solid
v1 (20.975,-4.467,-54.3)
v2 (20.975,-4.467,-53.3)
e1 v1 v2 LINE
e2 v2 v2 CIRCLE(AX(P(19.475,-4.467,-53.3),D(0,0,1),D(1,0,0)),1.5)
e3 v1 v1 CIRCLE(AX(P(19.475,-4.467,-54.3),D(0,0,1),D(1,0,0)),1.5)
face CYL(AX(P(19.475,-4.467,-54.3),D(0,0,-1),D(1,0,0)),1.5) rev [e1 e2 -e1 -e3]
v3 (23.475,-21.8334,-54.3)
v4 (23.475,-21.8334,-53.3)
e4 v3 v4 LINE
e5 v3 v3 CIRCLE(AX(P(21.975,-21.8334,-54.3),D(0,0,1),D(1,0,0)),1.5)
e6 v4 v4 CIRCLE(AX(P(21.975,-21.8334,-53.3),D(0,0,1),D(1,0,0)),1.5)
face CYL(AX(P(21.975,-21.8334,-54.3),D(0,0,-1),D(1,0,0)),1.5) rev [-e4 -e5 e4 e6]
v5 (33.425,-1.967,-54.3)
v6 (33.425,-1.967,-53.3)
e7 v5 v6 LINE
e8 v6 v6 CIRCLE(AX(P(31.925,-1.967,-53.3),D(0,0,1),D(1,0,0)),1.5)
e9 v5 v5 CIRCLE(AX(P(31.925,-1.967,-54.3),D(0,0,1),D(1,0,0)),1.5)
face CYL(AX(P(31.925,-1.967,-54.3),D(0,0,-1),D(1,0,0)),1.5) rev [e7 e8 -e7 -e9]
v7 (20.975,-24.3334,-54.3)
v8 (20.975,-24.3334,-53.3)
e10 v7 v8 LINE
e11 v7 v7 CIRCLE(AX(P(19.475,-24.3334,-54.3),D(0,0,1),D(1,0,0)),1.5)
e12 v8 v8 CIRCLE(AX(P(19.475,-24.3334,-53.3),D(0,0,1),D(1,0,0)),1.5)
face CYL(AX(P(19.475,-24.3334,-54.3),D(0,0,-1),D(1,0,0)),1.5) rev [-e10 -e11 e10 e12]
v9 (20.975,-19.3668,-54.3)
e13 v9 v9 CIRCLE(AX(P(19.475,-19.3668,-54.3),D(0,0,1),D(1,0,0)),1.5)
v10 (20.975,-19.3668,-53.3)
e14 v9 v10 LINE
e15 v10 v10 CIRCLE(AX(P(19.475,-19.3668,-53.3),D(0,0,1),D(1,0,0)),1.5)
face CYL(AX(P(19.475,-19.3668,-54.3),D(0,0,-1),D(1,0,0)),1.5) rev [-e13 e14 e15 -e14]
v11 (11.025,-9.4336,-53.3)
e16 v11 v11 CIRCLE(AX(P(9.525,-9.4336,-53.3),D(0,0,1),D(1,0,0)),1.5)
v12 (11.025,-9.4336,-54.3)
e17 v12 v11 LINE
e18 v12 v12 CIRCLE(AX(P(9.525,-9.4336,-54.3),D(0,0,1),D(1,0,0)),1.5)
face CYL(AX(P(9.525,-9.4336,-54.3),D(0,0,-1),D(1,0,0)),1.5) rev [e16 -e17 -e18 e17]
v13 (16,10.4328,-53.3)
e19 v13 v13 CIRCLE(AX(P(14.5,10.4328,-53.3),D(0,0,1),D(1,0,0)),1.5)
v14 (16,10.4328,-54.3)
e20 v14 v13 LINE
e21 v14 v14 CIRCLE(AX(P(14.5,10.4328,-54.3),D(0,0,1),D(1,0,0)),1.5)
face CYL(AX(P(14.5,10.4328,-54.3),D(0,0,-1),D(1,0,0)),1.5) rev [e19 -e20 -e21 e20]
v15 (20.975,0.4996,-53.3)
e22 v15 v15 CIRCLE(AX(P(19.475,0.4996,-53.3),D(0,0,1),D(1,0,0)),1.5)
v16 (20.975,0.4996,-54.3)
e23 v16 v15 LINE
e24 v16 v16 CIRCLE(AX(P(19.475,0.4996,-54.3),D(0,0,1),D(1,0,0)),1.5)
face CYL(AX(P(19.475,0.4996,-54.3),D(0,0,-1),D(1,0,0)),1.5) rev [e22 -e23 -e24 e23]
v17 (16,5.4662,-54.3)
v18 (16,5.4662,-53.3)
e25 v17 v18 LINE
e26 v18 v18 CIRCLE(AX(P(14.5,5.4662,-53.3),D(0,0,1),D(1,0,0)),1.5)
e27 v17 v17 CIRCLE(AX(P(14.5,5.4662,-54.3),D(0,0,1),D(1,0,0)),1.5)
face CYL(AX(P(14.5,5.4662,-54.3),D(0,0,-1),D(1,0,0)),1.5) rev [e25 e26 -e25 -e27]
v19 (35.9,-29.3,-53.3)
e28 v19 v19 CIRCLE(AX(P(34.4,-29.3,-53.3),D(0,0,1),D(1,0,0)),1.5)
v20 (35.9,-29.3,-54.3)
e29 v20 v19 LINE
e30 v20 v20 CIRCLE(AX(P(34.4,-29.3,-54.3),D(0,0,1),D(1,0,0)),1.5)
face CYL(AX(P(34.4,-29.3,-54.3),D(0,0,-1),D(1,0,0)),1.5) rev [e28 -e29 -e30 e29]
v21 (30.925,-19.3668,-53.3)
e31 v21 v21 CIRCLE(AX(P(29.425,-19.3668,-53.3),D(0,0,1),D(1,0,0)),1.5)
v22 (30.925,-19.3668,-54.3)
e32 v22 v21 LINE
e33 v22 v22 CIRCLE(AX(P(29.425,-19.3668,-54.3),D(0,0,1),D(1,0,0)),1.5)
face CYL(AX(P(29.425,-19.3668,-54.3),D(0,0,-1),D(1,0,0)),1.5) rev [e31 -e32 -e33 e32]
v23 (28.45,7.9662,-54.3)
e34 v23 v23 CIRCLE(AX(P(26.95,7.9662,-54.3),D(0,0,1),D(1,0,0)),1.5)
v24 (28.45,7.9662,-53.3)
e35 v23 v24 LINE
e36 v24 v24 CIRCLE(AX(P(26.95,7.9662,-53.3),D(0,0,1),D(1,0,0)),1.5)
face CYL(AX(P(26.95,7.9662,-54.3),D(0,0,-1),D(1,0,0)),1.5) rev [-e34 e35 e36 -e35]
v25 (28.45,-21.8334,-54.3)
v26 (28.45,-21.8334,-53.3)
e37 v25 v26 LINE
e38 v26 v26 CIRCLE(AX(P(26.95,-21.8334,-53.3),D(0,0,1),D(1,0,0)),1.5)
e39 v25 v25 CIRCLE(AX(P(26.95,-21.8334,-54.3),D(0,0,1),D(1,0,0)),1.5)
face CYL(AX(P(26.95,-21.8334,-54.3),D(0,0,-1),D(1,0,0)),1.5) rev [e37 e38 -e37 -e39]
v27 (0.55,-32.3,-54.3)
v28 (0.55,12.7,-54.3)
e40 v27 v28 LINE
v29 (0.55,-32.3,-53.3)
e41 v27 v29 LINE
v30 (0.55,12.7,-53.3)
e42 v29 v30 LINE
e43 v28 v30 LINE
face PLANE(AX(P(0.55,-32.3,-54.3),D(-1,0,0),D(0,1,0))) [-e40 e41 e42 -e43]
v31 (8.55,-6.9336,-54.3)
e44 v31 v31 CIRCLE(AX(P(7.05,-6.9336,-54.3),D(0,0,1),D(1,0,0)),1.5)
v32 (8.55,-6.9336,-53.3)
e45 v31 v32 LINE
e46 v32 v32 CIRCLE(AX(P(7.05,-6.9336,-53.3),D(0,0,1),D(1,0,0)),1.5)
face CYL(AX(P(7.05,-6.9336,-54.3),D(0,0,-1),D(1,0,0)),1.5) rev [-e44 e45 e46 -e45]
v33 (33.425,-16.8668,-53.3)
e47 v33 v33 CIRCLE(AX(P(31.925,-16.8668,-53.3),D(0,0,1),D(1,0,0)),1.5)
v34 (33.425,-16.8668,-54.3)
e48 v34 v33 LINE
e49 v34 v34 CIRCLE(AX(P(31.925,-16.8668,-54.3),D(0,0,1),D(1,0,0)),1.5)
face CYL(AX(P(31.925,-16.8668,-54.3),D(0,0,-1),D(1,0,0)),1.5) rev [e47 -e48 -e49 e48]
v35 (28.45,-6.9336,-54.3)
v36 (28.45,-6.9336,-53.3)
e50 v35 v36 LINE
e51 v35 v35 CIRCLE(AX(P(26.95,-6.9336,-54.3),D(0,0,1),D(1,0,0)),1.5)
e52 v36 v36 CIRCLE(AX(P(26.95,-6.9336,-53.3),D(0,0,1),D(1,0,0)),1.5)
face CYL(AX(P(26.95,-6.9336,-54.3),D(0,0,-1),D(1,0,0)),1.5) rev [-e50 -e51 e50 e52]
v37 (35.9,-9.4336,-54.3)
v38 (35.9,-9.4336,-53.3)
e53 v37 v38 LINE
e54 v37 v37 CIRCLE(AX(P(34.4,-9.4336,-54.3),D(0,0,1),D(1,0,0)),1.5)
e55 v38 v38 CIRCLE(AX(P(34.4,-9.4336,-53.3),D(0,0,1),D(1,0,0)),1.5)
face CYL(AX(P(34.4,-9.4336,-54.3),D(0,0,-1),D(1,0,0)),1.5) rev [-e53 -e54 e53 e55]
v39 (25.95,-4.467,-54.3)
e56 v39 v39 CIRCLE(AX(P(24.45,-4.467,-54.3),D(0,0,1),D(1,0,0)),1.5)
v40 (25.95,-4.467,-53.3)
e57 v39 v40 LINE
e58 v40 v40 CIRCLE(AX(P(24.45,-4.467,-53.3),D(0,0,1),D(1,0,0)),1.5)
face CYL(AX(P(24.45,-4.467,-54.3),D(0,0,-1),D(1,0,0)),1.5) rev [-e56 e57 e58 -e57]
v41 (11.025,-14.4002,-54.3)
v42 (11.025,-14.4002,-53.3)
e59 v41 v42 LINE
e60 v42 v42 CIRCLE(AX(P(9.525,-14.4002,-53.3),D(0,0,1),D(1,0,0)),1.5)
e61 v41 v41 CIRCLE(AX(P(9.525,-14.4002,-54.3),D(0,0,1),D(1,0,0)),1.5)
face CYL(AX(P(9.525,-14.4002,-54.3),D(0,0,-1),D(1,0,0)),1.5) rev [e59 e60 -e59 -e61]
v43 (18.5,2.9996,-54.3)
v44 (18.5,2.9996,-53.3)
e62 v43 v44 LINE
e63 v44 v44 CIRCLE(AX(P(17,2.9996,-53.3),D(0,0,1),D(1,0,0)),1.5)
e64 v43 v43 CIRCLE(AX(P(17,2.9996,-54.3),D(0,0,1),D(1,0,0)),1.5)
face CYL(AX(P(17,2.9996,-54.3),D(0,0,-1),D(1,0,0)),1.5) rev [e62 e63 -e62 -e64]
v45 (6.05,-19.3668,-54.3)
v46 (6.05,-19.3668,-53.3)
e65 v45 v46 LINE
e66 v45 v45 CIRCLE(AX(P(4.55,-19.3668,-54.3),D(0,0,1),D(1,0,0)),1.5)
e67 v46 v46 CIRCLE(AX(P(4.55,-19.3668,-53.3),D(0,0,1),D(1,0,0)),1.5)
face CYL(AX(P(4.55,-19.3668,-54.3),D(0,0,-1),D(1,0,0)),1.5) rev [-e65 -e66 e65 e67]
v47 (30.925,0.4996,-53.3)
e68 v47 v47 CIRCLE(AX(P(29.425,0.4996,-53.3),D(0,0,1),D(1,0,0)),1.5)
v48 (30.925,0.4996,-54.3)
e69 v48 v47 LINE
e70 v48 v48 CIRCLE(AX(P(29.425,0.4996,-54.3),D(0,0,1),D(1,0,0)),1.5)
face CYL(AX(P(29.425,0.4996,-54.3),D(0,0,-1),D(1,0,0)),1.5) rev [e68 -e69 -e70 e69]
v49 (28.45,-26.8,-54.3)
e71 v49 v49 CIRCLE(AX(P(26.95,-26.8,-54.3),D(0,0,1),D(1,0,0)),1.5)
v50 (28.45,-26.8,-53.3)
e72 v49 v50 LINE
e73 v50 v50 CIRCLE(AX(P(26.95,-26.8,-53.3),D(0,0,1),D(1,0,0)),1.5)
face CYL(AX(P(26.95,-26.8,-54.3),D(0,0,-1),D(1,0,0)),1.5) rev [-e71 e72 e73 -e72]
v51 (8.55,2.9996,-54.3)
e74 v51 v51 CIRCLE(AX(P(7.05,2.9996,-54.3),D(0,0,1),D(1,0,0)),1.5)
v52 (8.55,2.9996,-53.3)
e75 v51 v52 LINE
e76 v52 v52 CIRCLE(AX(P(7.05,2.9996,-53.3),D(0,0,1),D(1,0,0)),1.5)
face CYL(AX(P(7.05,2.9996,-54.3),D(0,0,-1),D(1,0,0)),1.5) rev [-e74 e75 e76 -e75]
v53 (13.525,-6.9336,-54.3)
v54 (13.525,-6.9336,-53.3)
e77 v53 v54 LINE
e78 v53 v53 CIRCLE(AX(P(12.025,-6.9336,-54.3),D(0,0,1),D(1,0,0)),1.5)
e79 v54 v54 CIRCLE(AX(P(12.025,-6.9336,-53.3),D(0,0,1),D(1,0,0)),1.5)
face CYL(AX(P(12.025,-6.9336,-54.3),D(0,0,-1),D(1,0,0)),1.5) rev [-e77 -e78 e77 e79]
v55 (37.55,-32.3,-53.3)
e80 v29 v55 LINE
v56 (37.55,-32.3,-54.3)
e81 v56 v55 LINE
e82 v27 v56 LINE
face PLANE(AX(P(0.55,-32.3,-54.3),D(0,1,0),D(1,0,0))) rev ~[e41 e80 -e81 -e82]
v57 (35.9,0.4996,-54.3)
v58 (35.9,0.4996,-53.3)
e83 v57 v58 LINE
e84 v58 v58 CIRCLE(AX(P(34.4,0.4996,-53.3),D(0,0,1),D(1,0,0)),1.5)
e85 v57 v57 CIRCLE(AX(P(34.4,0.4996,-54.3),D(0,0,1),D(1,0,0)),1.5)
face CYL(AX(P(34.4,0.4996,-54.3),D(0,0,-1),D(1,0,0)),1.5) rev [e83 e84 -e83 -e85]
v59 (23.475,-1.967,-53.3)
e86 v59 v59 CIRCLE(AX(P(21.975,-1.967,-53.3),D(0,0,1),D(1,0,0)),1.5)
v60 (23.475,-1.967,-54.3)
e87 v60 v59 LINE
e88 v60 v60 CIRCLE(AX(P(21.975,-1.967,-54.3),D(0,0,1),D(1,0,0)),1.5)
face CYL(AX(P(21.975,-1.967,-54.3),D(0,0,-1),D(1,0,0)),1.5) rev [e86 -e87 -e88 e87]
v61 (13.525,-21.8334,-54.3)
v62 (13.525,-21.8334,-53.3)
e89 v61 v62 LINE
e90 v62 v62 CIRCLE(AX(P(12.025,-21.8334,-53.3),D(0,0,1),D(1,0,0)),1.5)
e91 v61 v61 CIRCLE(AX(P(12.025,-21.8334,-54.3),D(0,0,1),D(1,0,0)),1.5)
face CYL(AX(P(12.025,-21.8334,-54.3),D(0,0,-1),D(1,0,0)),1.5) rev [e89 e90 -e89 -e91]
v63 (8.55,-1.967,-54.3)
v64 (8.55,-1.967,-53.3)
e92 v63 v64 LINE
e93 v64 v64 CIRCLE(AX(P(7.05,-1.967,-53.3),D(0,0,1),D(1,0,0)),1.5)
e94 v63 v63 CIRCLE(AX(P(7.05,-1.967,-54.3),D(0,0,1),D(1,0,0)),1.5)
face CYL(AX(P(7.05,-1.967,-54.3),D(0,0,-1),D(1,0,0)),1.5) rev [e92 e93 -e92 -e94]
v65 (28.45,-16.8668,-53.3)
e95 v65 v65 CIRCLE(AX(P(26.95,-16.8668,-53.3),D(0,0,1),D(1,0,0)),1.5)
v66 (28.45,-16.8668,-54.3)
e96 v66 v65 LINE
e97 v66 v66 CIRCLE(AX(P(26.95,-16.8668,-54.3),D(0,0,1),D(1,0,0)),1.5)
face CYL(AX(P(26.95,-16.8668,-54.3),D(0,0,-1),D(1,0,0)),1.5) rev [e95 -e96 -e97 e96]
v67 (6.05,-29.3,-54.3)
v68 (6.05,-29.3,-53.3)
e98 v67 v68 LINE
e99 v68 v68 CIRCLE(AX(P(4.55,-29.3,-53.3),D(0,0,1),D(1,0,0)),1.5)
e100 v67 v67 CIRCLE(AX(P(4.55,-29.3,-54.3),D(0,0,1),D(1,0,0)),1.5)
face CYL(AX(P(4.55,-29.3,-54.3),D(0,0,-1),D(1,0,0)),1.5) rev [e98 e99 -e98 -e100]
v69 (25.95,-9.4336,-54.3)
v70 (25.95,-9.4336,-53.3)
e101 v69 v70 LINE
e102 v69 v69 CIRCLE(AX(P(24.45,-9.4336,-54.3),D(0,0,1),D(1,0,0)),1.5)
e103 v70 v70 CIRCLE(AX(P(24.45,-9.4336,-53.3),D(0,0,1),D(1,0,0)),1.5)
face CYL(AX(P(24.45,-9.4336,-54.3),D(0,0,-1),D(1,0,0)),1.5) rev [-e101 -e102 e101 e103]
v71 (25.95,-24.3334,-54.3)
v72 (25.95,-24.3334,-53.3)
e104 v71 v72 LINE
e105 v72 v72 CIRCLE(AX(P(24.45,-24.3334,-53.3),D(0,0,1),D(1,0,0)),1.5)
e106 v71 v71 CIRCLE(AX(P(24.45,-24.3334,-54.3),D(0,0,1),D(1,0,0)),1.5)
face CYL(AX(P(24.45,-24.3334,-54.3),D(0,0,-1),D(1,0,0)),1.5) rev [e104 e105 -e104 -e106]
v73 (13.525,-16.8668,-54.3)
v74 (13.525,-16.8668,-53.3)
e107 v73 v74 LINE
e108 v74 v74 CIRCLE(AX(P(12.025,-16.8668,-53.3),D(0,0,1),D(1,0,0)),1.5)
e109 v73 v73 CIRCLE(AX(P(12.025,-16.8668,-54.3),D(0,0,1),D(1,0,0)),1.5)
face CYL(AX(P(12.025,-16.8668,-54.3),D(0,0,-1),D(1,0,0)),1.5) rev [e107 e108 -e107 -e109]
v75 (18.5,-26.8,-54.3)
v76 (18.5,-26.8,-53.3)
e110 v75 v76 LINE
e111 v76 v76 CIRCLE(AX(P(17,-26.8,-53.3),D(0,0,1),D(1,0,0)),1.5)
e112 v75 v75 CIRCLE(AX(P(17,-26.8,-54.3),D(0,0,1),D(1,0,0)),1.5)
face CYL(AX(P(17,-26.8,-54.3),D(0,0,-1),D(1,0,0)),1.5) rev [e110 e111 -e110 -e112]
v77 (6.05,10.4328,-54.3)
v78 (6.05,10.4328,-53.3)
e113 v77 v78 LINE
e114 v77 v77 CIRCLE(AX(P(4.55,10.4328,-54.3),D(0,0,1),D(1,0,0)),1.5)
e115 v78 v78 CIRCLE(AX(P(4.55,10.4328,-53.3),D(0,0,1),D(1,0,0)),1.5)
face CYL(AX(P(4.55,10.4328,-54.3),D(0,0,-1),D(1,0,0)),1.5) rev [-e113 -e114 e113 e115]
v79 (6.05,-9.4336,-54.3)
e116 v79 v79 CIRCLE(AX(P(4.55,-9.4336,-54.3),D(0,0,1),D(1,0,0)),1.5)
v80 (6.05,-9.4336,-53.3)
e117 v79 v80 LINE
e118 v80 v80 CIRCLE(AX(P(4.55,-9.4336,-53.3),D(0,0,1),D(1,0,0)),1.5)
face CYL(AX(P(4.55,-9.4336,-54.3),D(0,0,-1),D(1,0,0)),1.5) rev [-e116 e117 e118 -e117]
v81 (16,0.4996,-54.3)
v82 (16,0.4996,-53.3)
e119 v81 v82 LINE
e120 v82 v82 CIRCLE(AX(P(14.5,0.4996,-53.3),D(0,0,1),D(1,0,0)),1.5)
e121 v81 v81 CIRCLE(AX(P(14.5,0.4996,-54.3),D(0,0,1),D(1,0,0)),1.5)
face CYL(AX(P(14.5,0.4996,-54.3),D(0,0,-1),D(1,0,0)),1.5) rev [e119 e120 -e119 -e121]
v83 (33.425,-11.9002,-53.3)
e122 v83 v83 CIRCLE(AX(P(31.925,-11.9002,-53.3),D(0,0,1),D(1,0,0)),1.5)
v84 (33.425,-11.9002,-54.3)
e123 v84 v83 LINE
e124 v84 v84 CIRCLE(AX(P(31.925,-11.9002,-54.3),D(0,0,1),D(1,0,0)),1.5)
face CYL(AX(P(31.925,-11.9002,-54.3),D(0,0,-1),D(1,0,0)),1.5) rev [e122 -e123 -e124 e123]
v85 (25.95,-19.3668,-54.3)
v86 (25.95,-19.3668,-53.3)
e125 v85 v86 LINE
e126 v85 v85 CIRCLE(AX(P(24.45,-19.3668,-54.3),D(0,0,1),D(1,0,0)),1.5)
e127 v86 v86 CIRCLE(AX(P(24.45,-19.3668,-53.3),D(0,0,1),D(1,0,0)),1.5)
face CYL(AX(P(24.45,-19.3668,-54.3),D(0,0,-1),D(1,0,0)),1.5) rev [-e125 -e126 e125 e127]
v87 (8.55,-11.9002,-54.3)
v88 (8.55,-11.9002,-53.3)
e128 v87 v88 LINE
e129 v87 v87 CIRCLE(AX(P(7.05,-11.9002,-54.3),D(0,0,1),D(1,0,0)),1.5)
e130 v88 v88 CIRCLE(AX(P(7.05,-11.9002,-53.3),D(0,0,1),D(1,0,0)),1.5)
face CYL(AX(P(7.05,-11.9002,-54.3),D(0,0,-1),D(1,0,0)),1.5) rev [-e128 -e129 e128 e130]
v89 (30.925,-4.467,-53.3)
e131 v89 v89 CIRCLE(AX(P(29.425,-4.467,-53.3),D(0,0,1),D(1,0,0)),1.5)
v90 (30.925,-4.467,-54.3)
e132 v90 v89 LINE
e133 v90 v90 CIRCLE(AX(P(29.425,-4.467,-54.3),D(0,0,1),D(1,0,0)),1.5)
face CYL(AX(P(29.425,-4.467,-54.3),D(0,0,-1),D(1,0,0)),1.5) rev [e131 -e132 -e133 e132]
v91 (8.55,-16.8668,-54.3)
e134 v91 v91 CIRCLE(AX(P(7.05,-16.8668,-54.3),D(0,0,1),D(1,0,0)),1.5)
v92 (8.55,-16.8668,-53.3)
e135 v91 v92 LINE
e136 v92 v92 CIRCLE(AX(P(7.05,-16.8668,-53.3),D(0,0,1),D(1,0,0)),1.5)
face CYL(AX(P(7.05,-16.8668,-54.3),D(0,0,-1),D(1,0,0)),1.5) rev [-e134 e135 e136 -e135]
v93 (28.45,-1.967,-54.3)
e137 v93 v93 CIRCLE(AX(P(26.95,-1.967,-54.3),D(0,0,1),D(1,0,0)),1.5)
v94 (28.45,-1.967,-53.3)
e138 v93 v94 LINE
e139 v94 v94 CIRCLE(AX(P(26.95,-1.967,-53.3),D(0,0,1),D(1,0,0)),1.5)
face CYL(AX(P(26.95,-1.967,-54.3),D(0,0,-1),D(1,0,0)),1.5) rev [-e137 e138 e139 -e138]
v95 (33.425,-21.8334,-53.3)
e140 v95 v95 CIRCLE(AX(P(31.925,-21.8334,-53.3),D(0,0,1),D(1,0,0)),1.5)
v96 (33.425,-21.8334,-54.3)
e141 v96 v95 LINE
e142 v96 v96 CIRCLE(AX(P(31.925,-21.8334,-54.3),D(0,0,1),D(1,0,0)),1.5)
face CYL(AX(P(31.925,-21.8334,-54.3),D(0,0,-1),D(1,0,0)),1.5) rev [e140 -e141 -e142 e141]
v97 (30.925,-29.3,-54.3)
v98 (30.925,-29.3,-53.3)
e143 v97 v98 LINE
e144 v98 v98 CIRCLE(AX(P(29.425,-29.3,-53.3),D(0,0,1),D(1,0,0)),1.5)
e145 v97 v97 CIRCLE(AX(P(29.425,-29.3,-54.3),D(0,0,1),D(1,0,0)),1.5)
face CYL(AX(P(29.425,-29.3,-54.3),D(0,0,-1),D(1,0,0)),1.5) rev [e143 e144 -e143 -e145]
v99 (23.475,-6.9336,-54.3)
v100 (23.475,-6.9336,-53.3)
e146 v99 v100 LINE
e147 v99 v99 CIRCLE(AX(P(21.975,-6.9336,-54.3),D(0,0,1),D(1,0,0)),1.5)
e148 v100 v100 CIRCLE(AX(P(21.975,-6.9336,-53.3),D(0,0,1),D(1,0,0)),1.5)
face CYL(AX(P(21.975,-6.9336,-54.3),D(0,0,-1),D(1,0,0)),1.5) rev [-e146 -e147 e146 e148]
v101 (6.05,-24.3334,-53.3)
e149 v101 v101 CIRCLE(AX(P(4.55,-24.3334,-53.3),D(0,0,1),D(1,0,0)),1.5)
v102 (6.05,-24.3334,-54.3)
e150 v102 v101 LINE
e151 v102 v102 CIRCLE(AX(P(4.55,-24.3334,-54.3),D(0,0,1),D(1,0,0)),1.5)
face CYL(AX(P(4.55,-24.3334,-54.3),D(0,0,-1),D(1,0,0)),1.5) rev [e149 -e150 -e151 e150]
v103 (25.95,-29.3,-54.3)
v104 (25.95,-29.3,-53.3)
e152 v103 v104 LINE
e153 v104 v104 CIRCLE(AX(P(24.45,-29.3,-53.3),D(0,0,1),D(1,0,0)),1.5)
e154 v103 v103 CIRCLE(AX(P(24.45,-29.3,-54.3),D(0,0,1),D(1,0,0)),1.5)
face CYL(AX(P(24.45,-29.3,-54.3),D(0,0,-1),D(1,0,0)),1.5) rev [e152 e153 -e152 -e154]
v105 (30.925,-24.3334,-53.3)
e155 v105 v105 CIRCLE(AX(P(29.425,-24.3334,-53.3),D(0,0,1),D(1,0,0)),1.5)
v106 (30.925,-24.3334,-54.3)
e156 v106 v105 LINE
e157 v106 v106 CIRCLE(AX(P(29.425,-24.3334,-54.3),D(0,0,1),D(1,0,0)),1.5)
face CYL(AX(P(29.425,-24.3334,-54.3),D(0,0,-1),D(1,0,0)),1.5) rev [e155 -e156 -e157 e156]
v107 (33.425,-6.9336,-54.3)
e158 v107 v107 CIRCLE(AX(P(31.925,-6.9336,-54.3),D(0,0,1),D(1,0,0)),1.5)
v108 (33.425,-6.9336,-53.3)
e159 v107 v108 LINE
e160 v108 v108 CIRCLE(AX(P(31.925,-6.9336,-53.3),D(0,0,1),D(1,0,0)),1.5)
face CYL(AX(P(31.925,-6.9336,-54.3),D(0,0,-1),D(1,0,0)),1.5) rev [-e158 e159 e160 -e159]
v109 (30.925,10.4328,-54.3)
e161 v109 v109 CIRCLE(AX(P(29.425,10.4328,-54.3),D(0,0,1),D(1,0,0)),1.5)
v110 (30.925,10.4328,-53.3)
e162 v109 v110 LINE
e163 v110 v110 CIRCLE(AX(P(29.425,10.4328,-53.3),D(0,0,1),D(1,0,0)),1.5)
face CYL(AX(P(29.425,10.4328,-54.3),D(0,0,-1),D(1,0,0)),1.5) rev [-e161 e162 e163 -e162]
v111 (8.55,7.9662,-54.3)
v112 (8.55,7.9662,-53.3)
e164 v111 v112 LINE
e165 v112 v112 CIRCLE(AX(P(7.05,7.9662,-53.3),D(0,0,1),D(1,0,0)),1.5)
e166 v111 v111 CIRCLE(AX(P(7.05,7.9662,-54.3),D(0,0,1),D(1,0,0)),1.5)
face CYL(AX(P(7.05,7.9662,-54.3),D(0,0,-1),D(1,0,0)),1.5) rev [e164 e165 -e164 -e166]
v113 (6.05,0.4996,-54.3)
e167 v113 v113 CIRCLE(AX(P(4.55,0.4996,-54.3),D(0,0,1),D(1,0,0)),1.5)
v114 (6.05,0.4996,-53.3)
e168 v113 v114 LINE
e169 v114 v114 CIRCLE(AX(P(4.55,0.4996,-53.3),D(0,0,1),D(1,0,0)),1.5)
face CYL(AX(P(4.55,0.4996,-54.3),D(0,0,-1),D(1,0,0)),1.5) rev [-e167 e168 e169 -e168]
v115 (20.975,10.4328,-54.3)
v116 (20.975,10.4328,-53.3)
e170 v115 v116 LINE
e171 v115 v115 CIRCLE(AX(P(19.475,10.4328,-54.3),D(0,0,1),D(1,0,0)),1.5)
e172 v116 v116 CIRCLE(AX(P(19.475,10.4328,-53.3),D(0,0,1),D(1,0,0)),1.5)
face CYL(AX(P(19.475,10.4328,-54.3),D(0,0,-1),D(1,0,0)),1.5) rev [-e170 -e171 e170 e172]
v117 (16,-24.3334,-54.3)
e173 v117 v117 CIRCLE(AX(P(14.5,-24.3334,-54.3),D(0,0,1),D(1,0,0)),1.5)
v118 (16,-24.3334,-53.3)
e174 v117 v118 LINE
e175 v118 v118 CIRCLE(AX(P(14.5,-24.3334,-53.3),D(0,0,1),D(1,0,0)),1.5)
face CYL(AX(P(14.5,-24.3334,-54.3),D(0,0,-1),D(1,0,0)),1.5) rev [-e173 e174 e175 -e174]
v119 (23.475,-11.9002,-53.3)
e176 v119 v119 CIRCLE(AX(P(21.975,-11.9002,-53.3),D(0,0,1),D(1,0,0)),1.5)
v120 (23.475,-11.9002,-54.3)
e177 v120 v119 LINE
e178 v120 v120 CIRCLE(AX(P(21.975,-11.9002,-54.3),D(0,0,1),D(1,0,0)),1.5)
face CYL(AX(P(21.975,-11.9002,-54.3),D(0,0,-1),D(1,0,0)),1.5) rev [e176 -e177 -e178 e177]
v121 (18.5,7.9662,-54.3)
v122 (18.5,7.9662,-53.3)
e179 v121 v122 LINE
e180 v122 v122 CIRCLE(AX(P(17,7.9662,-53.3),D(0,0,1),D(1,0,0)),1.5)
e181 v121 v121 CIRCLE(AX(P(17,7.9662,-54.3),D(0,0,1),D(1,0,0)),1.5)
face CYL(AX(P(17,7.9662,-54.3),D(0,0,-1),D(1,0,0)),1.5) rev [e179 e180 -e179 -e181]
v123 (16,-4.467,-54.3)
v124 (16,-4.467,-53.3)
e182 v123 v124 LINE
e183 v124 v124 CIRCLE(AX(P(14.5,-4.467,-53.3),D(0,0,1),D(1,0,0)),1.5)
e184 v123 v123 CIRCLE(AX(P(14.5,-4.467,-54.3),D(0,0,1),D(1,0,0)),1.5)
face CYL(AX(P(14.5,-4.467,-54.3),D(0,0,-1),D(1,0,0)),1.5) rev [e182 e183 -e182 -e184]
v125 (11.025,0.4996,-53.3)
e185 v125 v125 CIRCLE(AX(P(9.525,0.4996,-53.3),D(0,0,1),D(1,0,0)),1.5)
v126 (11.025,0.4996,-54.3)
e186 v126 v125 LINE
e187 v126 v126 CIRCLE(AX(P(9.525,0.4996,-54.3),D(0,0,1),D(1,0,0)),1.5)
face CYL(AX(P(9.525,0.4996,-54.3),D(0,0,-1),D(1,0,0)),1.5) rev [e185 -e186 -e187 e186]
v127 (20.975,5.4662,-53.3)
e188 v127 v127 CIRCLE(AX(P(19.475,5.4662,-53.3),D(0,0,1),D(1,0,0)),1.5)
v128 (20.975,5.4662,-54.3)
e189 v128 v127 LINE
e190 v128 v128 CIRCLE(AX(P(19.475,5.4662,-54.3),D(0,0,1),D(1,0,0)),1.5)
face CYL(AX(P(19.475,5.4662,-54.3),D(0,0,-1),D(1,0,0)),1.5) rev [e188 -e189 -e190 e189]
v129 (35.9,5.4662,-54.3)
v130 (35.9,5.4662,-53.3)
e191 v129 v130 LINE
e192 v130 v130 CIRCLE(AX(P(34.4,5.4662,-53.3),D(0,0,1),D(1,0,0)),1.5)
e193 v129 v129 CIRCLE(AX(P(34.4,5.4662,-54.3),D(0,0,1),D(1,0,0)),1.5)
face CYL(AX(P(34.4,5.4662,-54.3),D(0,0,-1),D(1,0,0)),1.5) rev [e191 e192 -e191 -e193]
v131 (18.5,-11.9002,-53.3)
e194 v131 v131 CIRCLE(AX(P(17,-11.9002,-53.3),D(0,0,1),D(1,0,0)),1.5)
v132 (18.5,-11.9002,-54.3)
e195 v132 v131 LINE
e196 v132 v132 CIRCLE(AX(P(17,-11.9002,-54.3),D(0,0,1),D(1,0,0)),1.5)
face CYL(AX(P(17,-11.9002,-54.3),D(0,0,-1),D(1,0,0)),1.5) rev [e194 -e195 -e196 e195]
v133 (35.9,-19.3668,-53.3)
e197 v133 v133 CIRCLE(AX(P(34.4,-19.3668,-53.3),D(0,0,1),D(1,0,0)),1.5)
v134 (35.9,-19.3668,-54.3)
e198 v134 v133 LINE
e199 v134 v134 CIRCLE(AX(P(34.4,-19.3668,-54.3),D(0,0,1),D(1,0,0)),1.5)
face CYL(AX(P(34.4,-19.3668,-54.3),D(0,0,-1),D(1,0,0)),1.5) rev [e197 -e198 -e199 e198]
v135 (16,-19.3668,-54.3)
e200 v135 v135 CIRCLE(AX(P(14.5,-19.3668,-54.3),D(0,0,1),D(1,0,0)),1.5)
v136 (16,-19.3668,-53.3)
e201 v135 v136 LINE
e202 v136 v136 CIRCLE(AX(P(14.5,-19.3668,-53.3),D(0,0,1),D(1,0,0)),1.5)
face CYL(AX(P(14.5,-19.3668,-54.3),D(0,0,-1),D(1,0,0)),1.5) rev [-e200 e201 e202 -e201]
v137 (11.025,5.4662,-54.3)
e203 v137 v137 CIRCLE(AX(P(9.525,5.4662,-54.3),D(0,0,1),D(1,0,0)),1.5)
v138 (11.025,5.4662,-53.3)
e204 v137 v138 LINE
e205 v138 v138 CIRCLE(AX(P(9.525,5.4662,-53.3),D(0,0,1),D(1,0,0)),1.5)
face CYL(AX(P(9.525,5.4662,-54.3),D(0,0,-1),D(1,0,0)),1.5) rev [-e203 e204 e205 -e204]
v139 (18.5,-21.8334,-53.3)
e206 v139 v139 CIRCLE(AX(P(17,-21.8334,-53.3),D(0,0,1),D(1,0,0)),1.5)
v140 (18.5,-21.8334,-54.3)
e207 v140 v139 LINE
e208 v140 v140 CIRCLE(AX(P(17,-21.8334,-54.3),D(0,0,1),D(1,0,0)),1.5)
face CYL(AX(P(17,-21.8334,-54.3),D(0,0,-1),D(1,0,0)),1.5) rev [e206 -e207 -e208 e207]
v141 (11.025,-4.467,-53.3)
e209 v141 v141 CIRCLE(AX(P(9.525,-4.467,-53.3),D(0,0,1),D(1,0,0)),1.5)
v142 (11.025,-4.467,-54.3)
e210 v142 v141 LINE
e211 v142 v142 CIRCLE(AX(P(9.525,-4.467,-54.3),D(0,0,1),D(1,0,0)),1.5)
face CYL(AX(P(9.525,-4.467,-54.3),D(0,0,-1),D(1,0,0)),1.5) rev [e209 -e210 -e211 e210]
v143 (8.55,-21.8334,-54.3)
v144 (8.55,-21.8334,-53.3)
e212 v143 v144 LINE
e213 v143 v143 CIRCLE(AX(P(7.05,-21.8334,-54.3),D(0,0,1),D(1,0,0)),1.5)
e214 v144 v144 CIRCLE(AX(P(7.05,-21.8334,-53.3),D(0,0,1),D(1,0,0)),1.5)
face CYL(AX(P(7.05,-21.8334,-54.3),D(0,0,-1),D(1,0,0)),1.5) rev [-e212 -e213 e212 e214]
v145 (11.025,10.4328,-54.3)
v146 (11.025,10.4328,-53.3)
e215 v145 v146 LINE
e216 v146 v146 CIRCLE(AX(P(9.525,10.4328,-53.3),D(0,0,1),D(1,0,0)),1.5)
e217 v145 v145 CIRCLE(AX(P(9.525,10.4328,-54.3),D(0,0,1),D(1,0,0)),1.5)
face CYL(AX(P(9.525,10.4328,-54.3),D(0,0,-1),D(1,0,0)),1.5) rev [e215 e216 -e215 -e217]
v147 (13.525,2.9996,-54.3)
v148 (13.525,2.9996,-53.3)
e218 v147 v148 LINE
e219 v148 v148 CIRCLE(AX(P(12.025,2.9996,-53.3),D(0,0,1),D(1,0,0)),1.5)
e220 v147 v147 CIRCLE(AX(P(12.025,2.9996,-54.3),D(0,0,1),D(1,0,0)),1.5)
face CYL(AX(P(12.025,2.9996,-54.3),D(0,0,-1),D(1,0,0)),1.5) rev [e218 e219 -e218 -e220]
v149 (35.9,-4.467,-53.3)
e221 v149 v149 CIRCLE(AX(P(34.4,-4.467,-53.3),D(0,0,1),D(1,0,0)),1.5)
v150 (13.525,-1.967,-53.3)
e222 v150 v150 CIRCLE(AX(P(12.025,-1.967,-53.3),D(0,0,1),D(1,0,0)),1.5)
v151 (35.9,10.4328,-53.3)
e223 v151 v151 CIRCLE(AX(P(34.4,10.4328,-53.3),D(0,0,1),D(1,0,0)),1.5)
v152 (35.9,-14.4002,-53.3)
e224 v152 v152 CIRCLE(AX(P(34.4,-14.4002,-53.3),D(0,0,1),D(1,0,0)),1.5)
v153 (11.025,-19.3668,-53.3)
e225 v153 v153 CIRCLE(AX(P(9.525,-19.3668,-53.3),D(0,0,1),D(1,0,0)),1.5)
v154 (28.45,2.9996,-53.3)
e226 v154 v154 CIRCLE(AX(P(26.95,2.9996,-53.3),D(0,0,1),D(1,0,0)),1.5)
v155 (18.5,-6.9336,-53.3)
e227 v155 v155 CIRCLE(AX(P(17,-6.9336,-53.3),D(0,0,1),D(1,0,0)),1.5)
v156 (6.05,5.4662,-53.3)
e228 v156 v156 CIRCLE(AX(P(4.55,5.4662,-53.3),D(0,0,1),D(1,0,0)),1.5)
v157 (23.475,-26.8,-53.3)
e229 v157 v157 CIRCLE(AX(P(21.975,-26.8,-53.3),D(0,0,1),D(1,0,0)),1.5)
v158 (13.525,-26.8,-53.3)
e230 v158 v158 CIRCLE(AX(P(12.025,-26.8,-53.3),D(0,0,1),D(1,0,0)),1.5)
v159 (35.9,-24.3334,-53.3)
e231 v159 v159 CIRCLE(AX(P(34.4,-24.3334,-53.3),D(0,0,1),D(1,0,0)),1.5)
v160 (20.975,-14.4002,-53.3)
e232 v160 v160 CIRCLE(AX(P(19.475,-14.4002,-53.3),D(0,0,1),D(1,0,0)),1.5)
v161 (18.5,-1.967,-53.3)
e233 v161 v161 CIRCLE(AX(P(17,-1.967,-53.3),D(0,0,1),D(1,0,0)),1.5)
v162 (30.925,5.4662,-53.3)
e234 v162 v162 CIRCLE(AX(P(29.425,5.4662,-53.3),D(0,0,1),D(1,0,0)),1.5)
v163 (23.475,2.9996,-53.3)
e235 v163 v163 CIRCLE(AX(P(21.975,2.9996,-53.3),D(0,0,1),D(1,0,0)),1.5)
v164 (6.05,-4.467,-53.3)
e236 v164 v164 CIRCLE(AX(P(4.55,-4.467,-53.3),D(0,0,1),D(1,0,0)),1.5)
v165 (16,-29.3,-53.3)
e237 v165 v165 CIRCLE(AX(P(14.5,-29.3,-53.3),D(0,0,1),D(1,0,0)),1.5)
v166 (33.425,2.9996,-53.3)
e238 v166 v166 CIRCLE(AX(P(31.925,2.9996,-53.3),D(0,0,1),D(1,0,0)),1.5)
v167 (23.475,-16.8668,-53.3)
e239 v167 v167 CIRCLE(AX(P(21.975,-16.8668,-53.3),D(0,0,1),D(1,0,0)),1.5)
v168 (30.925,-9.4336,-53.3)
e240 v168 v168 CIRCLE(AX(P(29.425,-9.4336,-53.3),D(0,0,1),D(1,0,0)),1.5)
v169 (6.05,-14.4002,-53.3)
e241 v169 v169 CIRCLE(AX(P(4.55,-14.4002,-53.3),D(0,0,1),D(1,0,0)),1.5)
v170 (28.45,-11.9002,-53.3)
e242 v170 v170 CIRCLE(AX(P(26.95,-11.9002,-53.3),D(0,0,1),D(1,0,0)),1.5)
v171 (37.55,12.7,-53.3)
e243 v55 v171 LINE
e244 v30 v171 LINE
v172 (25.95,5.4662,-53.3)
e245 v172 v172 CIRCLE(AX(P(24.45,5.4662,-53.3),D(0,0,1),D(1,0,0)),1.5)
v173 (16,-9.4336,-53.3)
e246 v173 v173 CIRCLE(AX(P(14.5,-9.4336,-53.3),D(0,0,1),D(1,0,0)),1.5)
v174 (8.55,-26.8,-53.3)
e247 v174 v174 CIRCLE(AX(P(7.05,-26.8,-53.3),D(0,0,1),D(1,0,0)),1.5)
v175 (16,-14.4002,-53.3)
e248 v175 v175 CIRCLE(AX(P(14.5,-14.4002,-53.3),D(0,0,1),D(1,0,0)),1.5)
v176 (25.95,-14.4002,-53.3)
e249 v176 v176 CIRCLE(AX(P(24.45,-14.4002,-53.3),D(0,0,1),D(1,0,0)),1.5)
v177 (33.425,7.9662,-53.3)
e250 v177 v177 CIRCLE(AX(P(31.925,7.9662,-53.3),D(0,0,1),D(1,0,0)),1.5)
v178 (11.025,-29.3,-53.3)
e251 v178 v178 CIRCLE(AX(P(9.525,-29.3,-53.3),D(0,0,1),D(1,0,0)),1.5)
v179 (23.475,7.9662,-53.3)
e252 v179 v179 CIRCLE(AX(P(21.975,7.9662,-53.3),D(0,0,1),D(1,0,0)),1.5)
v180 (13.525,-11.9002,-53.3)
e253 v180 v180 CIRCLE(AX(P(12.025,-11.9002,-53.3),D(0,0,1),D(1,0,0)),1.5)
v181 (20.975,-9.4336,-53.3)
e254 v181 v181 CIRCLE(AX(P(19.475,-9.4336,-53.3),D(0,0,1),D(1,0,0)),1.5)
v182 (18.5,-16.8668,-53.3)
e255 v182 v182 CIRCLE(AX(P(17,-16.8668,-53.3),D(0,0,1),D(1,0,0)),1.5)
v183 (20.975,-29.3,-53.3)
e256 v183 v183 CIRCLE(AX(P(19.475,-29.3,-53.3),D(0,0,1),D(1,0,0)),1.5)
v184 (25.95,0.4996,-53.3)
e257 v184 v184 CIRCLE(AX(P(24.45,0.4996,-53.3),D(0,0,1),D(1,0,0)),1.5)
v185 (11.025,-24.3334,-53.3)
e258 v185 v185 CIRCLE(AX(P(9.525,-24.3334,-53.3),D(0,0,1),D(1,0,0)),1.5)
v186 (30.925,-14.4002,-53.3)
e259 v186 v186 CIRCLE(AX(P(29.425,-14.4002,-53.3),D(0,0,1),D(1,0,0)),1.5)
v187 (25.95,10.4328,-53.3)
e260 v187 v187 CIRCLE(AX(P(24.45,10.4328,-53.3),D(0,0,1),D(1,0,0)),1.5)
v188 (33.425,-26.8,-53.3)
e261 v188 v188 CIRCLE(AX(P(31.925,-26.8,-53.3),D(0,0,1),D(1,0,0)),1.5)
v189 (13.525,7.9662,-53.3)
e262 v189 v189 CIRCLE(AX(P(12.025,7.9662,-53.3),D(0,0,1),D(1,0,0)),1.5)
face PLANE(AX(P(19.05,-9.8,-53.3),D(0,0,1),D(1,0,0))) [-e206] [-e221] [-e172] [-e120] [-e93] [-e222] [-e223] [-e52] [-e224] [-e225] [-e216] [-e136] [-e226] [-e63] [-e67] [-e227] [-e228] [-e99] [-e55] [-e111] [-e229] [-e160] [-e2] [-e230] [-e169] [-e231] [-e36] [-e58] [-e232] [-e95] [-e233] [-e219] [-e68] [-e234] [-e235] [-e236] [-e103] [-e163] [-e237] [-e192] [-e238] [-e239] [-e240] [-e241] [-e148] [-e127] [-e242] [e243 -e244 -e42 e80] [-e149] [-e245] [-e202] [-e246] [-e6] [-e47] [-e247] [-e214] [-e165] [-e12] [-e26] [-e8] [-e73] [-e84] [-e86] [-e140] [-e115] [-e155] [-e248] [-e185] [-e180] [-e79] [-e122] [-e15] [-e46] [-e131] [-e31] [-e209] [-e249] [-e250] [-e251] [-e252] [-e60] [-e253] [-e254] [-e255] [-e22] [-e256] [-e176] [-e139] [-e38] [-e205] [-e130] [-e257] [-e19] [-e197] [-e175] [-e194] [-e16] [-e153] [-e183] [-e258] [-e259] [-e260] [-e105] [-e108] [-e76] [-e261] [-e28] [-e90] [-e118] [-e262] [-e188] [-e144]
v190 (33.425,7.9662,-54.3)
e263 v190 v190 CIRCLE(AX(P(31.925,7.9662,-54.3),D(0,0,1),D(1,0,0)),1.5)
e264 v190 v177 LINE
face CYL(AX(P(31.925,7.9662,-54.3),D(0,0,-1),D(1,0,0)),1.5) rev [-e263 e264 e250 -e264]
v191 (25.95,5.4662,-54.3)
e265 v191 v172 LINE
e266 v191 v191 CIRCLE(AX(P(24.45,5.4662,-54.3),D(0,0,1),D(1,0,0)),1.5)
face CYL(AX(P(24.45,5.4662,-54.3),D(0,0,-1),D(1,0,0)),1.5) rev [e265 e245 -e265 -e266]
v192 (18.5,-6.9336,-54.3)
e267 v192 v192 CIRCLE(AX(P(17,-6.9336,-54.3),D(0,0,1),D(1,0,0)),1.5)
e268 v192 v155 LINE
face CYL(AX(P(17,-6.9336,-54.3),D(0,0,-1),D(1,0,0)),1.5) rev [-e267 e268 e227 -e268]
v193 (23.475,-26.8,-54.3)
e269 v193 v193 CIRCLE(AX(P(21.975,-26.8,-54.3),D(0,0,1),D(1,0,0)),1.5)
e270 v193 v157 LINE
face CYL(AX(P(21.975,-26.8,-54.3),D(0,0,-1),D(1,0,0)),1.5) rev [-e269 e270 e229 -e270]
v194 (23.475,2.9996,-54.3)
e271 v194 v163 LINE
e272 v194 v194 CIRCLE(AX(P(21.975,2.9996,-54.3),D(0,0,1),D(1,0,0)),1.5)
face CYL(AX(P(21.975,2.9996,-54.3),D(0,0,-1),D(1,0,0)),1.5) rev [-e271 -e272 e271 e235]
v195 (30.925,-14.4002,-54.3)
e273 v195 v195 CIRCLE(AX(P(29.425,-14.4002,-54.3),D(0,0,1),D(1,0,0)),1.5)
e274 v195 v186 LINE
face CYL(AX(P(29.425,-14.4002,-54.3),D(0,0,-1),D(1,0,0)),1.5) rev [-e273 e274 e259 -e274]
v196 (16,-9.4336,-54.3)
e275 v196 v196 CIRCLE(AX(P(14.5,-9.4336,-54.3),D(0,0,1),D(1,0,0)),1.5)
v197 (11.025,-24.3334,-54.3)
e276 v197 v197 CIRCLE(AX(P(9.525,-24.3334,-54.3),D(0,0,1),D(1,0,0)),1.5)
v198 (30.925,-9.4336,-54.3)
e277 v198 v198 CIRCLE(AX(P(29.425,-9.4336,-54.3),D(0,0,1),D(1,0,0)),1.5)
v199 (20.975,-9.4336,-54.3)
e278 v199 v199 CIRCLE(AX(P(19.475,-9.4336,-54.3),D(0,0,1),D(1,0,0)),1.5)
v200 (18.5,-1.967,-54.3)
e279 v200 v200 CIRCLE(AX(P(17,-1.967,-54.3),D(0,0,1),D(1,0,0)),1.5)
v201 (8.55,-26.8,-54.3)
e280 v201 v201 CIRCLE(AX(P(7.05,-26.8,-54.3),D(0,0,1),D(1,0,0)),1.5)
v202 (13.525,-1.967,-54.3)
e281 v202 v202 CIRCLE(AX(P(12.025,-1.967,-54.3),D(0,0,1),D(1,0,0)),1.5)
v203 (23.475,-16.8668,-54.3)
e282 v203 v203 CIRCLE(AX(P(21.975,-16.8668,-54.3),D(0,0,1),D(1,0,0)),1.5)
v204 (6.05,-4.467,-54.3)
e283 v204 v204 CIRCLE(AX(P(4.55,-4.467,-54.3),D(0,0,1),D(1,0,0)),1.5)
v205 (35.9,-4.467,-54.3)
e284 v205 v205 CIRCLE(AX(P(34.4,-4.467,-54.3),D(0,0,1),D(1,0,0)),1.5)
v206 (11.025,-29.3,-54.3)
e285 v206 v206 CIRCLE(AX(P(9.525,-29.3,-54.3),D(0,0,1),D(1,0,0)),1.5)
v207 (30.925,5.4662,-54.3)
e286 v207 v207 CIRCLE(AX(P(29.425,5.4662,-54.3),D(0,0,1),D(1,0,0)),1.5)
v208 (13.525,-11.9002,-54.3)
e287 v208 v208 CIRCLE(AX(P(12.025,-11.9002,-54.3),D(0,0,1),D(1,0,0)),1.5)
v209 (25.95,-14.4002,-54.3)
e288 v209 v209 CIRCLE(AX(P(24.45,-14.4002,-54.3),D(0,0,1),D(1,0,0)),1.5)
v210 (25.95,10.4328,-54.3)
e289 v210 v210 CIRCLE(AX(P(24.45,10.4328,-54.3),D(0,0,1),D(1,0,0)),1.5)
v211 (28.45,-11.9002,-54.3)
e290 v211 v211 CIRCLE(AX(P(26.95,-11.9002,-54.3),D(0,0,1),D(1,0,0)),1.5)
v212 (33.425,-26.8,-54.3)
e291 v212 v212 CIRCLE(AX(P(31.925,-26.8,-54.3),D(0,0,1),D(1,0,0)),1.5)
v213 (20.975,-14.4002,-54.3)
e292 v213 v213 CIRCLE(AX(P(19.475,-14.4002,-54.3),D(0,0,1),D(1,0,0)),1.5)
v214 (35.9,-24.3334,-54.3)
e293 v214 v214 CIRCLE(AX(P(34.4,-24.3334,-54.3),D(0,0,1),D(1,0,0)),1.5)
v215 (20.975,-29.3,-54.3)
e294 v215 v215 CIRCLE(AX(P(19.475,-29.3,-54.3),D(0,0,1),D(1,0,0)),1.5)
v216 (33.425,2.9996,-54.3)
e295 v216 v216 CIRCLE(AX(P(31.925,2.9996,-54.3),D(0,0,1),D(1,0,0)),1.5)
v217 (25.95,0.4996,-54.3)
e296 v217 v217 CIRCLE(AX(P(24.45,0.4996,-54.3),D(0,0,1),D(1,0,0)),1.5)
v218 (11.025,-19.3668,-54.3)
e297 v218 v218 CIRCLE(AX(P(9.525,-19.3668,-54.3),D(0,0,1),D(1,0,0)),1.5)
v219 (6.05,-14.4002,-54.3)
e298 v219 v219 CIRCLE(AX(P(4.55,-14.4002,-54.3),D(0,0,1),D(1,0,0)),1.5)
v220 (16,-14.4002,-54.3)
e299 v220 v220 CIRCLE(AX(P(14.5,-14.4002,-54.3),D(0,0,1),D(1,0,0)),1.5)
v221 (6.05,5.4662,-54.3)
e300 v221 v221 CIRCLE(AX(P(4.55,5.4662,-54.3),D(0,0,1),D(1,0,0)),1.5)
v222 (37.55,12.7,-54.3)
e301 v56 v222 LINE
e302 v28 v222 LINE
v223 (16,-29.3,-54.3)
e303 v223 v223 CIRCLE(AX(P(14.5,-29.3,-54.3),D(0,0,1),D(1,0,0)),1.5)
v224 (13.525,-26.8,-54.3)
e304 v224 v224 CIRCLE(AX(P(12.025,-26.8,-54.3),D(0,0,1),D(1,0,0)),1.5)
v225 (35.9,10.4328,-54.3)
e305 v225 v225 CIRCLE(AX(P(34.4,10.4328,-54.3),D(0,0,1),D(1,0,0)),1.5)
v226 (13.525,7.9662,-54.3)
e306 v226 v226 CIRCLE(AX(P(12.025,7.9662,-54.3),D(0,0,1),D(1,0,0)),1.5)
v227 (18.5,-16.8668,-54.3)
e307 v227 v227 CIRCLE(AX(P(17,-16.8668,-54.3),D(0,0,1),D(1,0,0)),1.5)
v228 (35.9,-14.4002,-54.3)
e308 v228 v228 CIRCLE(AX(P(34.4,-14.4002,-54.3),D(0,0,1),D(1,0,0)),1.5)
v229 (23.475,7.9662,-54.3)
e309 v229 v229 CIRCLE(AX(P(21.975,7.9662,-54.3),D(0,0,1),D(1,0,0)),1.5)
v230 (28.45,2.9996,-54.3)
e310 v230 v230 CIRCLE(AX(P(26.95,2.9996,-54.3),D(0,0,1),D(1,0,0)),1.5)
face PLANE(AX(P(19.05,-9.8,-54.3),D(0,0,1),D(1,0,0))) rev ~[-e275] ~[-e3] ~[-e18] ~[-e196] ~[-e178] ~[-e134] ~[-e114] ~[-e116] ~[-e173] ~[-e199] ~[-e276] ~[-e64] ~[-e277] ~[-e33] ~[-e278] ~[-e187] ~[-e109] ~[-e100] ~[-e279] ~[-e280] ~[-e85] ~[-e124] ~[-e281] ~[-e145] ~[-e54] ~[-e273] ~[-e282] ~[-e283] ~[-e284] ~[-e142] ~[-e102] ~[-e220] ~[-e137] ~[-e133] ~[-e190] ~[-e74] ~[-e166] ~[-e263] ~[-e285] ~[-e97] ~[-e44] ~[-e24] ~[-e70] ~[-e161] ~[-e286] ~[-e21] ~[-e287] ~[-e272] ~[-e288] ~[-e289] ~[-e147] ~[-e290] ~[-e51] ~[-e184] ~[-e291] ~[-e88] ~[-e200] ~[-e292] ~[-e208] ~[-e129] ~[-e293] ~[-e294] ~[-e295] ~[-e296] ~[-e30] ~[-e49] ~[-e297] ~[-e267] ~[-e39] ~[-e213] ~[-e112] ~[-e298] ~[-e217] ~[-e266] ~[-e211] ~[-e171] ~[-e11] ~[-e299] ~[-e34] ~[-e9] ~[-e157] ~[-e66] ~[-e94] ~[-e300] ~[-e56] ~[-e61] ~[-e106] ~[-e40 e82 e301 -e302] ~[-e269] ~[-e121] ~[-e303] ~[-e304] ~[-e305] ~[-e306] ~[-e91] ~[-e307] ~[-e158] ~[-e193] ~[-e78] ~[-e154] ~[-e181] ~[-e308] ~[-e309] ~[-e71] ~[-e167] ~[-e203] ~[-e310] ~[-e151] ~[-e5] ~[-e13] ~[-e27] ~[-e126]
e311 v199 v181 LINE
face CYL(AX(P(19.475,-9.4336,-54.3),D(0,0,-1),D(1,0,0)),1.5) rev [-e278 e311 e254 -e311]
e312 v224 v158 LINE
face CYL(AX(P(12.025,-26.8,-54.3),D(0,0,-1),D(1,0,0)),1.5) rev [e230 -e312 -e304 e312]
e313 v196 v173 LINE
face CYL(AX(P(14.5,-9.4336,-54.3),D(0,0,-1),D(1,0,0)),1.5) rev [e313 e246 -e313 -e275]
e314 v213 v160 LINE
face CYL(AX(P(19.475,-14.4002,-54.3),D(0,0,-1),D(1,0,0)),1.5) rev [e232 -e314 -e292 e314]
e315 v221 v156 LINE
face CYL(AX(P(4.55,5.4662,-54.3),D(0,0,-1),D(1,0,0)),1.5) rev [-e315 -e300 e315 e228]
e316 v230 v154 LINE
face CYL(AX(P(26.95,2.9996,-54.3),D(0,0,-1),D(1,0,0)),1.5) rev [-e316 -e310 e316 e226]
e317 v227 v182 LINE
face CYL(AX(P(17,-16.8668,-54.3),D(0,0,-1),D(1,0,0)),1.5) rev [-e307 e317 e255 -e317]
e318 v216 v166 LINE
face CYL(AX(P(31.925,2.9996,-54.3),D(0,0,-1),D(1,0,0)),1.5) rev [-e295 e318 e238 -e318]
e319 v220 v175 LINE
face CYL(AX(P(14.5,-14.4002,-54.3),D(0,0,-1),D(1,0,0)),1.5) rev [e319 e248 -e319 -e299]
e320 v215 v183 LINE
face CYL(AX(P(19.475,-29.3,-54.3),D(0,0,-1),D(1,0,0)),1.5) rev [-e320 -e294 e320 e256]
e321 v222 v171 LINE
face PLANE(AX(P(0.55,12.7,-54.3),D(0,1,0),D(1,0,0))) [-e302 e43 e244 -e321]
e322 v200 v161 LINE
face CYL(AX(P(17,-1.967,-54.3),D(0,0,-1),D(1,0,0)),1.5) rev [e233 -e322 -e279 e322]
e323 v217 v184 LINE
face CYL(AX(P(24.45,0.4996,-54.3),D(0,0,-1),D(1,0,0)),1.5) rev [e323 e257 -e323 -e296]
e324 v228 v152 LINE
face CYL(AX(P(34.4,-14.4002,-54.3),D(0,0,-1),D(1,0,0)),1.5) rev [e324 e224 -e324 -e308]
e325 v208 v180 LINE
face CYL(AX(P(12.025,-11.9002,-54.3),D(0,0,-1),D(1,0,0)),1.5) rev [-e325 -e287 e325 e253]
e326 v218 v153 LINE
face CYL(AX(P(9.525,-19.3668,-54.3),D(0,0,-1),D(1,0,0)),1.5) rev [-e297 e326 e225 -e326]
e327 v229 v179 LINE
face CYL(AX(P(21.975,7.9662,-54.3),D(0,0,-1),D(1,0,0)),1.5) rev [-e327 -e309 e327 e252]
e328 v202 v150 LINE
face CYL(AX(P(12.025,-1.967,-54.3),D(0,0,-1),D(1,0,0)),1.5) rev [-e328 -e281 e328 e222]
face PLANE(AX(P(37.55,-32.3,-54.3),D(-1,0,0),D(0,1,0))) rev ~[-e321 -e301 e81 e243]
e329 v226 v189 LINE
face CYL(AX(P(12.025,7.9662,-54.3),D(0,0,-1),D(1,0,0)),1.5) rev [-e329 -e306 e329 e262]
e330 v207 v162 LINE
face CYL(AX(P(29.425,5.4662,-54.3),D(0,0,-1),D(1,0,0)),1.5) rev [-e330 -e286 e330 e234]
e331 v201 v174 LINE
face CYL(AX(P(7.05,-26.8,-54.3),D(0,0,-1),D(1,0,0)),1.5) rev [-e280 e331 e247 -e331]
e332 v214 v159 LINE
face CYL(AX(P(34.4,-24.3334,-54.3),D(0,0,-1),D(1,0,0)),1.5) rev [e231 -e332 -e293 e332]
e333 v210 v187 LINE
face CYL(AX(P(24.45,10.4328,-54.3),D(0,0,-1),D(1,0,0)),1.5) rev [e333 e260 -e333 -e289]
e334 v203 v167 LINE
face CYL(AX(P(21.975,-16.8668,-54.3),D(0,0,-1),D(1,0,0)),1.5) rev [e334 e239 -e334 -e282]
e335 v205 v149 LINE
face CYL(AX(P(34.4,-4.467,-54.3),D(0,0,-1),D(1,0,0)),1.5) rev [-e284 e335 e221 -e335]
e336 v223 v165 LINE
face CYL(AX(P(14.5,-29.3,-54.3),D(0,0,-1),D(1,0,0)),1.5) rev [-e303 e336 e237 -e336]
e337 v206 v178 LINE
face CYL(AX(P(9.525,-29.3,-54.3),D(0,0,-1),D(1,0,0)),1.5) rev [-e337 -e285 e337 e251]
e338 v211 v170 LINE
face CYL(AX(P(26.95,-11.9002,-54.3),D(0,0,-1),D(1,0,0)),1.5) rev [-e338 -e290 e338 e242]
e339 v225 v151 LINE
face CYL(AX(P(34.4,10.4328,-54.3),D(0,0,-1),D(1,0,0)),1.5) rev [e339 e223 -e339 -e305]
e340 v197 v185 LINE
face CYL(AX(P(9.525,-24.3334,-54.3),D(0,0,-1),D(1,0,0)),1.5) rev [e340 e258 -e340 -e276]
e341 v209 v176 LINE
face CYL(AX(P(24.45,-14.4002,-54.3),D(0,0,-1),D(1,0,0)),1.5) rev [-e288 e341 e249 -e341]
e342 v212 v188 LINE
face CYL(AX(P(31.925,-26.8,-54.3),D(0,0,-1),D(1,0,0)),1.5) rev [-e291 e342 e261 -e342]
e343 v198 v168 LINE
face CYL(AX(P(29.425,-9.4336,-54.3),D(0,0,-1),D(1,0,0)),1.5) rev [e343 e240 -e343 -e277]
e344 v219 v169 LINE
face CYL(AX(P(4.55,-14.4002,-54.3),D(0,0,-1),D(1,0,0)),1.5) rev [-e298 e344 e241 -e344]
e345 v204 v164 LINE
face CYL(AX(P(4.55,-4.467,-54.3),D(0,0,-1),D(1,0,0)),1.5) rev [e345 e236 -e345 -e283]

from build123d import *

# Parameters (mm, degrees)
CYLINDER009_R     = 1.5
CYLINDER009_DEPTH = 1
ARRAY006_X_COUNT  = 6
ARRAY006_X_PITCH  = 4.975
ARRAY006_Y_COUNT  = 8
ARRAY006_Y_PITCH  = 4.9666
CYLINDER008_R     = 1.5
CYLINDER008_DEPTH = 1
ARRAY005_X_COUNT  = 7
ARRAY005_X_PITCH  = 4.975
ARRAY005_Y_COUNT  = 9
ARRAY005_Y_PITCH  = 4.9666
BOX014_W          = 37
BOX014_H          = 45
BOX014_DEPTH      = 1


with BuildPart() as grill_holes003:
    # Cylinder009 → Cylinder009 (new body)
    with BuildSketch(Plane(origin=(-27.5, -22.5, 0), x_dir=(1, 0, 0), z_dir=(0, 0, 1))):
        Circle(CYLINDER009_R)
    extrude(amount=CYLINDER009_DEPTH)

    # Array006 X: GRILL_holes003 ×6


with BuildPart() as grill_holes003_1:
    add(grill_holes003.part)
    with Locations(*[(i * ARRAY006_X_PITCH, 0, 0) for i in range(1, ARRAY006_X_COUNT)]):
        add(grill_holes003.part)

    # Array006 Y: GRILL_holes003 ×8


with BuildPart() as grill_holes003_2:
    add(grill_holes003_1.part)
    with Locations(*[(0, i * ARRAY006_Y_PITCH, 0) for i in range(1, ARRAY006_Y_COUNT)]):
        add(grill_holes003_1.part)


with BuildPart() as grill_holes002:
    # Cylinder008 → Cylinder008 (new body)
    with BuildSketch(Plane(origin=(-30, -25, 0), x_dir=(1, 0, 0), z_dir=(0, 0, 1))):
        Circle(CYLINDER008_R)
    extrude(amount=CYLINDER008_DEPTH)

    # Array005 X: GRILL_holes002 ×7


with BuildPart() as grill_holes002_1:
    add(grill_holes002.part)
    with Locations(*[(i * ARRAY005_X_PITCH, 0, 0) for i in range(1, ARRAY005_X_COUNT)]):
        add(grill_holes002.part)

    # Array005 Y: GRILL_holes002 ×9


with BuildPart() as grill_holes002_2:
    add(grill_holes002_1.part)
    with Locations(*[(0, i * ARRAY005_Y_PITCH, 0) for i in range(1, ARRAY005_Y_COUNT)]):
        add(grill_holes002_1.part)


with BuildPart() as grill001:
    # Box014 → Box014 (new body)
    with BuildSketch(Plane(origin=(-34, -28, 0), x_dir=(1, 0, 0), z_dir=(0, 0, 1))):
        with Locations((18.5, 22.5)):
            Rectangle(BOX014_W, BOX014_H)
    extrude(amount=BOX014_DEPTH)

    # Cut012: cut GRILL_holes002
    add(grill_holes002_2.part, mode=Mode.SUBTRACT)

    # Cut013: cut GRILL_holes003
    add(grill_holes003_2.part, mode=Mode.SUBTRACT)


with BuildPart() as grill001_1:
    # Cut013 placement: moved
    add(grill001.part.moved(Location((34.55, -4.3, -54.3))))


solid = grill001_1.part
